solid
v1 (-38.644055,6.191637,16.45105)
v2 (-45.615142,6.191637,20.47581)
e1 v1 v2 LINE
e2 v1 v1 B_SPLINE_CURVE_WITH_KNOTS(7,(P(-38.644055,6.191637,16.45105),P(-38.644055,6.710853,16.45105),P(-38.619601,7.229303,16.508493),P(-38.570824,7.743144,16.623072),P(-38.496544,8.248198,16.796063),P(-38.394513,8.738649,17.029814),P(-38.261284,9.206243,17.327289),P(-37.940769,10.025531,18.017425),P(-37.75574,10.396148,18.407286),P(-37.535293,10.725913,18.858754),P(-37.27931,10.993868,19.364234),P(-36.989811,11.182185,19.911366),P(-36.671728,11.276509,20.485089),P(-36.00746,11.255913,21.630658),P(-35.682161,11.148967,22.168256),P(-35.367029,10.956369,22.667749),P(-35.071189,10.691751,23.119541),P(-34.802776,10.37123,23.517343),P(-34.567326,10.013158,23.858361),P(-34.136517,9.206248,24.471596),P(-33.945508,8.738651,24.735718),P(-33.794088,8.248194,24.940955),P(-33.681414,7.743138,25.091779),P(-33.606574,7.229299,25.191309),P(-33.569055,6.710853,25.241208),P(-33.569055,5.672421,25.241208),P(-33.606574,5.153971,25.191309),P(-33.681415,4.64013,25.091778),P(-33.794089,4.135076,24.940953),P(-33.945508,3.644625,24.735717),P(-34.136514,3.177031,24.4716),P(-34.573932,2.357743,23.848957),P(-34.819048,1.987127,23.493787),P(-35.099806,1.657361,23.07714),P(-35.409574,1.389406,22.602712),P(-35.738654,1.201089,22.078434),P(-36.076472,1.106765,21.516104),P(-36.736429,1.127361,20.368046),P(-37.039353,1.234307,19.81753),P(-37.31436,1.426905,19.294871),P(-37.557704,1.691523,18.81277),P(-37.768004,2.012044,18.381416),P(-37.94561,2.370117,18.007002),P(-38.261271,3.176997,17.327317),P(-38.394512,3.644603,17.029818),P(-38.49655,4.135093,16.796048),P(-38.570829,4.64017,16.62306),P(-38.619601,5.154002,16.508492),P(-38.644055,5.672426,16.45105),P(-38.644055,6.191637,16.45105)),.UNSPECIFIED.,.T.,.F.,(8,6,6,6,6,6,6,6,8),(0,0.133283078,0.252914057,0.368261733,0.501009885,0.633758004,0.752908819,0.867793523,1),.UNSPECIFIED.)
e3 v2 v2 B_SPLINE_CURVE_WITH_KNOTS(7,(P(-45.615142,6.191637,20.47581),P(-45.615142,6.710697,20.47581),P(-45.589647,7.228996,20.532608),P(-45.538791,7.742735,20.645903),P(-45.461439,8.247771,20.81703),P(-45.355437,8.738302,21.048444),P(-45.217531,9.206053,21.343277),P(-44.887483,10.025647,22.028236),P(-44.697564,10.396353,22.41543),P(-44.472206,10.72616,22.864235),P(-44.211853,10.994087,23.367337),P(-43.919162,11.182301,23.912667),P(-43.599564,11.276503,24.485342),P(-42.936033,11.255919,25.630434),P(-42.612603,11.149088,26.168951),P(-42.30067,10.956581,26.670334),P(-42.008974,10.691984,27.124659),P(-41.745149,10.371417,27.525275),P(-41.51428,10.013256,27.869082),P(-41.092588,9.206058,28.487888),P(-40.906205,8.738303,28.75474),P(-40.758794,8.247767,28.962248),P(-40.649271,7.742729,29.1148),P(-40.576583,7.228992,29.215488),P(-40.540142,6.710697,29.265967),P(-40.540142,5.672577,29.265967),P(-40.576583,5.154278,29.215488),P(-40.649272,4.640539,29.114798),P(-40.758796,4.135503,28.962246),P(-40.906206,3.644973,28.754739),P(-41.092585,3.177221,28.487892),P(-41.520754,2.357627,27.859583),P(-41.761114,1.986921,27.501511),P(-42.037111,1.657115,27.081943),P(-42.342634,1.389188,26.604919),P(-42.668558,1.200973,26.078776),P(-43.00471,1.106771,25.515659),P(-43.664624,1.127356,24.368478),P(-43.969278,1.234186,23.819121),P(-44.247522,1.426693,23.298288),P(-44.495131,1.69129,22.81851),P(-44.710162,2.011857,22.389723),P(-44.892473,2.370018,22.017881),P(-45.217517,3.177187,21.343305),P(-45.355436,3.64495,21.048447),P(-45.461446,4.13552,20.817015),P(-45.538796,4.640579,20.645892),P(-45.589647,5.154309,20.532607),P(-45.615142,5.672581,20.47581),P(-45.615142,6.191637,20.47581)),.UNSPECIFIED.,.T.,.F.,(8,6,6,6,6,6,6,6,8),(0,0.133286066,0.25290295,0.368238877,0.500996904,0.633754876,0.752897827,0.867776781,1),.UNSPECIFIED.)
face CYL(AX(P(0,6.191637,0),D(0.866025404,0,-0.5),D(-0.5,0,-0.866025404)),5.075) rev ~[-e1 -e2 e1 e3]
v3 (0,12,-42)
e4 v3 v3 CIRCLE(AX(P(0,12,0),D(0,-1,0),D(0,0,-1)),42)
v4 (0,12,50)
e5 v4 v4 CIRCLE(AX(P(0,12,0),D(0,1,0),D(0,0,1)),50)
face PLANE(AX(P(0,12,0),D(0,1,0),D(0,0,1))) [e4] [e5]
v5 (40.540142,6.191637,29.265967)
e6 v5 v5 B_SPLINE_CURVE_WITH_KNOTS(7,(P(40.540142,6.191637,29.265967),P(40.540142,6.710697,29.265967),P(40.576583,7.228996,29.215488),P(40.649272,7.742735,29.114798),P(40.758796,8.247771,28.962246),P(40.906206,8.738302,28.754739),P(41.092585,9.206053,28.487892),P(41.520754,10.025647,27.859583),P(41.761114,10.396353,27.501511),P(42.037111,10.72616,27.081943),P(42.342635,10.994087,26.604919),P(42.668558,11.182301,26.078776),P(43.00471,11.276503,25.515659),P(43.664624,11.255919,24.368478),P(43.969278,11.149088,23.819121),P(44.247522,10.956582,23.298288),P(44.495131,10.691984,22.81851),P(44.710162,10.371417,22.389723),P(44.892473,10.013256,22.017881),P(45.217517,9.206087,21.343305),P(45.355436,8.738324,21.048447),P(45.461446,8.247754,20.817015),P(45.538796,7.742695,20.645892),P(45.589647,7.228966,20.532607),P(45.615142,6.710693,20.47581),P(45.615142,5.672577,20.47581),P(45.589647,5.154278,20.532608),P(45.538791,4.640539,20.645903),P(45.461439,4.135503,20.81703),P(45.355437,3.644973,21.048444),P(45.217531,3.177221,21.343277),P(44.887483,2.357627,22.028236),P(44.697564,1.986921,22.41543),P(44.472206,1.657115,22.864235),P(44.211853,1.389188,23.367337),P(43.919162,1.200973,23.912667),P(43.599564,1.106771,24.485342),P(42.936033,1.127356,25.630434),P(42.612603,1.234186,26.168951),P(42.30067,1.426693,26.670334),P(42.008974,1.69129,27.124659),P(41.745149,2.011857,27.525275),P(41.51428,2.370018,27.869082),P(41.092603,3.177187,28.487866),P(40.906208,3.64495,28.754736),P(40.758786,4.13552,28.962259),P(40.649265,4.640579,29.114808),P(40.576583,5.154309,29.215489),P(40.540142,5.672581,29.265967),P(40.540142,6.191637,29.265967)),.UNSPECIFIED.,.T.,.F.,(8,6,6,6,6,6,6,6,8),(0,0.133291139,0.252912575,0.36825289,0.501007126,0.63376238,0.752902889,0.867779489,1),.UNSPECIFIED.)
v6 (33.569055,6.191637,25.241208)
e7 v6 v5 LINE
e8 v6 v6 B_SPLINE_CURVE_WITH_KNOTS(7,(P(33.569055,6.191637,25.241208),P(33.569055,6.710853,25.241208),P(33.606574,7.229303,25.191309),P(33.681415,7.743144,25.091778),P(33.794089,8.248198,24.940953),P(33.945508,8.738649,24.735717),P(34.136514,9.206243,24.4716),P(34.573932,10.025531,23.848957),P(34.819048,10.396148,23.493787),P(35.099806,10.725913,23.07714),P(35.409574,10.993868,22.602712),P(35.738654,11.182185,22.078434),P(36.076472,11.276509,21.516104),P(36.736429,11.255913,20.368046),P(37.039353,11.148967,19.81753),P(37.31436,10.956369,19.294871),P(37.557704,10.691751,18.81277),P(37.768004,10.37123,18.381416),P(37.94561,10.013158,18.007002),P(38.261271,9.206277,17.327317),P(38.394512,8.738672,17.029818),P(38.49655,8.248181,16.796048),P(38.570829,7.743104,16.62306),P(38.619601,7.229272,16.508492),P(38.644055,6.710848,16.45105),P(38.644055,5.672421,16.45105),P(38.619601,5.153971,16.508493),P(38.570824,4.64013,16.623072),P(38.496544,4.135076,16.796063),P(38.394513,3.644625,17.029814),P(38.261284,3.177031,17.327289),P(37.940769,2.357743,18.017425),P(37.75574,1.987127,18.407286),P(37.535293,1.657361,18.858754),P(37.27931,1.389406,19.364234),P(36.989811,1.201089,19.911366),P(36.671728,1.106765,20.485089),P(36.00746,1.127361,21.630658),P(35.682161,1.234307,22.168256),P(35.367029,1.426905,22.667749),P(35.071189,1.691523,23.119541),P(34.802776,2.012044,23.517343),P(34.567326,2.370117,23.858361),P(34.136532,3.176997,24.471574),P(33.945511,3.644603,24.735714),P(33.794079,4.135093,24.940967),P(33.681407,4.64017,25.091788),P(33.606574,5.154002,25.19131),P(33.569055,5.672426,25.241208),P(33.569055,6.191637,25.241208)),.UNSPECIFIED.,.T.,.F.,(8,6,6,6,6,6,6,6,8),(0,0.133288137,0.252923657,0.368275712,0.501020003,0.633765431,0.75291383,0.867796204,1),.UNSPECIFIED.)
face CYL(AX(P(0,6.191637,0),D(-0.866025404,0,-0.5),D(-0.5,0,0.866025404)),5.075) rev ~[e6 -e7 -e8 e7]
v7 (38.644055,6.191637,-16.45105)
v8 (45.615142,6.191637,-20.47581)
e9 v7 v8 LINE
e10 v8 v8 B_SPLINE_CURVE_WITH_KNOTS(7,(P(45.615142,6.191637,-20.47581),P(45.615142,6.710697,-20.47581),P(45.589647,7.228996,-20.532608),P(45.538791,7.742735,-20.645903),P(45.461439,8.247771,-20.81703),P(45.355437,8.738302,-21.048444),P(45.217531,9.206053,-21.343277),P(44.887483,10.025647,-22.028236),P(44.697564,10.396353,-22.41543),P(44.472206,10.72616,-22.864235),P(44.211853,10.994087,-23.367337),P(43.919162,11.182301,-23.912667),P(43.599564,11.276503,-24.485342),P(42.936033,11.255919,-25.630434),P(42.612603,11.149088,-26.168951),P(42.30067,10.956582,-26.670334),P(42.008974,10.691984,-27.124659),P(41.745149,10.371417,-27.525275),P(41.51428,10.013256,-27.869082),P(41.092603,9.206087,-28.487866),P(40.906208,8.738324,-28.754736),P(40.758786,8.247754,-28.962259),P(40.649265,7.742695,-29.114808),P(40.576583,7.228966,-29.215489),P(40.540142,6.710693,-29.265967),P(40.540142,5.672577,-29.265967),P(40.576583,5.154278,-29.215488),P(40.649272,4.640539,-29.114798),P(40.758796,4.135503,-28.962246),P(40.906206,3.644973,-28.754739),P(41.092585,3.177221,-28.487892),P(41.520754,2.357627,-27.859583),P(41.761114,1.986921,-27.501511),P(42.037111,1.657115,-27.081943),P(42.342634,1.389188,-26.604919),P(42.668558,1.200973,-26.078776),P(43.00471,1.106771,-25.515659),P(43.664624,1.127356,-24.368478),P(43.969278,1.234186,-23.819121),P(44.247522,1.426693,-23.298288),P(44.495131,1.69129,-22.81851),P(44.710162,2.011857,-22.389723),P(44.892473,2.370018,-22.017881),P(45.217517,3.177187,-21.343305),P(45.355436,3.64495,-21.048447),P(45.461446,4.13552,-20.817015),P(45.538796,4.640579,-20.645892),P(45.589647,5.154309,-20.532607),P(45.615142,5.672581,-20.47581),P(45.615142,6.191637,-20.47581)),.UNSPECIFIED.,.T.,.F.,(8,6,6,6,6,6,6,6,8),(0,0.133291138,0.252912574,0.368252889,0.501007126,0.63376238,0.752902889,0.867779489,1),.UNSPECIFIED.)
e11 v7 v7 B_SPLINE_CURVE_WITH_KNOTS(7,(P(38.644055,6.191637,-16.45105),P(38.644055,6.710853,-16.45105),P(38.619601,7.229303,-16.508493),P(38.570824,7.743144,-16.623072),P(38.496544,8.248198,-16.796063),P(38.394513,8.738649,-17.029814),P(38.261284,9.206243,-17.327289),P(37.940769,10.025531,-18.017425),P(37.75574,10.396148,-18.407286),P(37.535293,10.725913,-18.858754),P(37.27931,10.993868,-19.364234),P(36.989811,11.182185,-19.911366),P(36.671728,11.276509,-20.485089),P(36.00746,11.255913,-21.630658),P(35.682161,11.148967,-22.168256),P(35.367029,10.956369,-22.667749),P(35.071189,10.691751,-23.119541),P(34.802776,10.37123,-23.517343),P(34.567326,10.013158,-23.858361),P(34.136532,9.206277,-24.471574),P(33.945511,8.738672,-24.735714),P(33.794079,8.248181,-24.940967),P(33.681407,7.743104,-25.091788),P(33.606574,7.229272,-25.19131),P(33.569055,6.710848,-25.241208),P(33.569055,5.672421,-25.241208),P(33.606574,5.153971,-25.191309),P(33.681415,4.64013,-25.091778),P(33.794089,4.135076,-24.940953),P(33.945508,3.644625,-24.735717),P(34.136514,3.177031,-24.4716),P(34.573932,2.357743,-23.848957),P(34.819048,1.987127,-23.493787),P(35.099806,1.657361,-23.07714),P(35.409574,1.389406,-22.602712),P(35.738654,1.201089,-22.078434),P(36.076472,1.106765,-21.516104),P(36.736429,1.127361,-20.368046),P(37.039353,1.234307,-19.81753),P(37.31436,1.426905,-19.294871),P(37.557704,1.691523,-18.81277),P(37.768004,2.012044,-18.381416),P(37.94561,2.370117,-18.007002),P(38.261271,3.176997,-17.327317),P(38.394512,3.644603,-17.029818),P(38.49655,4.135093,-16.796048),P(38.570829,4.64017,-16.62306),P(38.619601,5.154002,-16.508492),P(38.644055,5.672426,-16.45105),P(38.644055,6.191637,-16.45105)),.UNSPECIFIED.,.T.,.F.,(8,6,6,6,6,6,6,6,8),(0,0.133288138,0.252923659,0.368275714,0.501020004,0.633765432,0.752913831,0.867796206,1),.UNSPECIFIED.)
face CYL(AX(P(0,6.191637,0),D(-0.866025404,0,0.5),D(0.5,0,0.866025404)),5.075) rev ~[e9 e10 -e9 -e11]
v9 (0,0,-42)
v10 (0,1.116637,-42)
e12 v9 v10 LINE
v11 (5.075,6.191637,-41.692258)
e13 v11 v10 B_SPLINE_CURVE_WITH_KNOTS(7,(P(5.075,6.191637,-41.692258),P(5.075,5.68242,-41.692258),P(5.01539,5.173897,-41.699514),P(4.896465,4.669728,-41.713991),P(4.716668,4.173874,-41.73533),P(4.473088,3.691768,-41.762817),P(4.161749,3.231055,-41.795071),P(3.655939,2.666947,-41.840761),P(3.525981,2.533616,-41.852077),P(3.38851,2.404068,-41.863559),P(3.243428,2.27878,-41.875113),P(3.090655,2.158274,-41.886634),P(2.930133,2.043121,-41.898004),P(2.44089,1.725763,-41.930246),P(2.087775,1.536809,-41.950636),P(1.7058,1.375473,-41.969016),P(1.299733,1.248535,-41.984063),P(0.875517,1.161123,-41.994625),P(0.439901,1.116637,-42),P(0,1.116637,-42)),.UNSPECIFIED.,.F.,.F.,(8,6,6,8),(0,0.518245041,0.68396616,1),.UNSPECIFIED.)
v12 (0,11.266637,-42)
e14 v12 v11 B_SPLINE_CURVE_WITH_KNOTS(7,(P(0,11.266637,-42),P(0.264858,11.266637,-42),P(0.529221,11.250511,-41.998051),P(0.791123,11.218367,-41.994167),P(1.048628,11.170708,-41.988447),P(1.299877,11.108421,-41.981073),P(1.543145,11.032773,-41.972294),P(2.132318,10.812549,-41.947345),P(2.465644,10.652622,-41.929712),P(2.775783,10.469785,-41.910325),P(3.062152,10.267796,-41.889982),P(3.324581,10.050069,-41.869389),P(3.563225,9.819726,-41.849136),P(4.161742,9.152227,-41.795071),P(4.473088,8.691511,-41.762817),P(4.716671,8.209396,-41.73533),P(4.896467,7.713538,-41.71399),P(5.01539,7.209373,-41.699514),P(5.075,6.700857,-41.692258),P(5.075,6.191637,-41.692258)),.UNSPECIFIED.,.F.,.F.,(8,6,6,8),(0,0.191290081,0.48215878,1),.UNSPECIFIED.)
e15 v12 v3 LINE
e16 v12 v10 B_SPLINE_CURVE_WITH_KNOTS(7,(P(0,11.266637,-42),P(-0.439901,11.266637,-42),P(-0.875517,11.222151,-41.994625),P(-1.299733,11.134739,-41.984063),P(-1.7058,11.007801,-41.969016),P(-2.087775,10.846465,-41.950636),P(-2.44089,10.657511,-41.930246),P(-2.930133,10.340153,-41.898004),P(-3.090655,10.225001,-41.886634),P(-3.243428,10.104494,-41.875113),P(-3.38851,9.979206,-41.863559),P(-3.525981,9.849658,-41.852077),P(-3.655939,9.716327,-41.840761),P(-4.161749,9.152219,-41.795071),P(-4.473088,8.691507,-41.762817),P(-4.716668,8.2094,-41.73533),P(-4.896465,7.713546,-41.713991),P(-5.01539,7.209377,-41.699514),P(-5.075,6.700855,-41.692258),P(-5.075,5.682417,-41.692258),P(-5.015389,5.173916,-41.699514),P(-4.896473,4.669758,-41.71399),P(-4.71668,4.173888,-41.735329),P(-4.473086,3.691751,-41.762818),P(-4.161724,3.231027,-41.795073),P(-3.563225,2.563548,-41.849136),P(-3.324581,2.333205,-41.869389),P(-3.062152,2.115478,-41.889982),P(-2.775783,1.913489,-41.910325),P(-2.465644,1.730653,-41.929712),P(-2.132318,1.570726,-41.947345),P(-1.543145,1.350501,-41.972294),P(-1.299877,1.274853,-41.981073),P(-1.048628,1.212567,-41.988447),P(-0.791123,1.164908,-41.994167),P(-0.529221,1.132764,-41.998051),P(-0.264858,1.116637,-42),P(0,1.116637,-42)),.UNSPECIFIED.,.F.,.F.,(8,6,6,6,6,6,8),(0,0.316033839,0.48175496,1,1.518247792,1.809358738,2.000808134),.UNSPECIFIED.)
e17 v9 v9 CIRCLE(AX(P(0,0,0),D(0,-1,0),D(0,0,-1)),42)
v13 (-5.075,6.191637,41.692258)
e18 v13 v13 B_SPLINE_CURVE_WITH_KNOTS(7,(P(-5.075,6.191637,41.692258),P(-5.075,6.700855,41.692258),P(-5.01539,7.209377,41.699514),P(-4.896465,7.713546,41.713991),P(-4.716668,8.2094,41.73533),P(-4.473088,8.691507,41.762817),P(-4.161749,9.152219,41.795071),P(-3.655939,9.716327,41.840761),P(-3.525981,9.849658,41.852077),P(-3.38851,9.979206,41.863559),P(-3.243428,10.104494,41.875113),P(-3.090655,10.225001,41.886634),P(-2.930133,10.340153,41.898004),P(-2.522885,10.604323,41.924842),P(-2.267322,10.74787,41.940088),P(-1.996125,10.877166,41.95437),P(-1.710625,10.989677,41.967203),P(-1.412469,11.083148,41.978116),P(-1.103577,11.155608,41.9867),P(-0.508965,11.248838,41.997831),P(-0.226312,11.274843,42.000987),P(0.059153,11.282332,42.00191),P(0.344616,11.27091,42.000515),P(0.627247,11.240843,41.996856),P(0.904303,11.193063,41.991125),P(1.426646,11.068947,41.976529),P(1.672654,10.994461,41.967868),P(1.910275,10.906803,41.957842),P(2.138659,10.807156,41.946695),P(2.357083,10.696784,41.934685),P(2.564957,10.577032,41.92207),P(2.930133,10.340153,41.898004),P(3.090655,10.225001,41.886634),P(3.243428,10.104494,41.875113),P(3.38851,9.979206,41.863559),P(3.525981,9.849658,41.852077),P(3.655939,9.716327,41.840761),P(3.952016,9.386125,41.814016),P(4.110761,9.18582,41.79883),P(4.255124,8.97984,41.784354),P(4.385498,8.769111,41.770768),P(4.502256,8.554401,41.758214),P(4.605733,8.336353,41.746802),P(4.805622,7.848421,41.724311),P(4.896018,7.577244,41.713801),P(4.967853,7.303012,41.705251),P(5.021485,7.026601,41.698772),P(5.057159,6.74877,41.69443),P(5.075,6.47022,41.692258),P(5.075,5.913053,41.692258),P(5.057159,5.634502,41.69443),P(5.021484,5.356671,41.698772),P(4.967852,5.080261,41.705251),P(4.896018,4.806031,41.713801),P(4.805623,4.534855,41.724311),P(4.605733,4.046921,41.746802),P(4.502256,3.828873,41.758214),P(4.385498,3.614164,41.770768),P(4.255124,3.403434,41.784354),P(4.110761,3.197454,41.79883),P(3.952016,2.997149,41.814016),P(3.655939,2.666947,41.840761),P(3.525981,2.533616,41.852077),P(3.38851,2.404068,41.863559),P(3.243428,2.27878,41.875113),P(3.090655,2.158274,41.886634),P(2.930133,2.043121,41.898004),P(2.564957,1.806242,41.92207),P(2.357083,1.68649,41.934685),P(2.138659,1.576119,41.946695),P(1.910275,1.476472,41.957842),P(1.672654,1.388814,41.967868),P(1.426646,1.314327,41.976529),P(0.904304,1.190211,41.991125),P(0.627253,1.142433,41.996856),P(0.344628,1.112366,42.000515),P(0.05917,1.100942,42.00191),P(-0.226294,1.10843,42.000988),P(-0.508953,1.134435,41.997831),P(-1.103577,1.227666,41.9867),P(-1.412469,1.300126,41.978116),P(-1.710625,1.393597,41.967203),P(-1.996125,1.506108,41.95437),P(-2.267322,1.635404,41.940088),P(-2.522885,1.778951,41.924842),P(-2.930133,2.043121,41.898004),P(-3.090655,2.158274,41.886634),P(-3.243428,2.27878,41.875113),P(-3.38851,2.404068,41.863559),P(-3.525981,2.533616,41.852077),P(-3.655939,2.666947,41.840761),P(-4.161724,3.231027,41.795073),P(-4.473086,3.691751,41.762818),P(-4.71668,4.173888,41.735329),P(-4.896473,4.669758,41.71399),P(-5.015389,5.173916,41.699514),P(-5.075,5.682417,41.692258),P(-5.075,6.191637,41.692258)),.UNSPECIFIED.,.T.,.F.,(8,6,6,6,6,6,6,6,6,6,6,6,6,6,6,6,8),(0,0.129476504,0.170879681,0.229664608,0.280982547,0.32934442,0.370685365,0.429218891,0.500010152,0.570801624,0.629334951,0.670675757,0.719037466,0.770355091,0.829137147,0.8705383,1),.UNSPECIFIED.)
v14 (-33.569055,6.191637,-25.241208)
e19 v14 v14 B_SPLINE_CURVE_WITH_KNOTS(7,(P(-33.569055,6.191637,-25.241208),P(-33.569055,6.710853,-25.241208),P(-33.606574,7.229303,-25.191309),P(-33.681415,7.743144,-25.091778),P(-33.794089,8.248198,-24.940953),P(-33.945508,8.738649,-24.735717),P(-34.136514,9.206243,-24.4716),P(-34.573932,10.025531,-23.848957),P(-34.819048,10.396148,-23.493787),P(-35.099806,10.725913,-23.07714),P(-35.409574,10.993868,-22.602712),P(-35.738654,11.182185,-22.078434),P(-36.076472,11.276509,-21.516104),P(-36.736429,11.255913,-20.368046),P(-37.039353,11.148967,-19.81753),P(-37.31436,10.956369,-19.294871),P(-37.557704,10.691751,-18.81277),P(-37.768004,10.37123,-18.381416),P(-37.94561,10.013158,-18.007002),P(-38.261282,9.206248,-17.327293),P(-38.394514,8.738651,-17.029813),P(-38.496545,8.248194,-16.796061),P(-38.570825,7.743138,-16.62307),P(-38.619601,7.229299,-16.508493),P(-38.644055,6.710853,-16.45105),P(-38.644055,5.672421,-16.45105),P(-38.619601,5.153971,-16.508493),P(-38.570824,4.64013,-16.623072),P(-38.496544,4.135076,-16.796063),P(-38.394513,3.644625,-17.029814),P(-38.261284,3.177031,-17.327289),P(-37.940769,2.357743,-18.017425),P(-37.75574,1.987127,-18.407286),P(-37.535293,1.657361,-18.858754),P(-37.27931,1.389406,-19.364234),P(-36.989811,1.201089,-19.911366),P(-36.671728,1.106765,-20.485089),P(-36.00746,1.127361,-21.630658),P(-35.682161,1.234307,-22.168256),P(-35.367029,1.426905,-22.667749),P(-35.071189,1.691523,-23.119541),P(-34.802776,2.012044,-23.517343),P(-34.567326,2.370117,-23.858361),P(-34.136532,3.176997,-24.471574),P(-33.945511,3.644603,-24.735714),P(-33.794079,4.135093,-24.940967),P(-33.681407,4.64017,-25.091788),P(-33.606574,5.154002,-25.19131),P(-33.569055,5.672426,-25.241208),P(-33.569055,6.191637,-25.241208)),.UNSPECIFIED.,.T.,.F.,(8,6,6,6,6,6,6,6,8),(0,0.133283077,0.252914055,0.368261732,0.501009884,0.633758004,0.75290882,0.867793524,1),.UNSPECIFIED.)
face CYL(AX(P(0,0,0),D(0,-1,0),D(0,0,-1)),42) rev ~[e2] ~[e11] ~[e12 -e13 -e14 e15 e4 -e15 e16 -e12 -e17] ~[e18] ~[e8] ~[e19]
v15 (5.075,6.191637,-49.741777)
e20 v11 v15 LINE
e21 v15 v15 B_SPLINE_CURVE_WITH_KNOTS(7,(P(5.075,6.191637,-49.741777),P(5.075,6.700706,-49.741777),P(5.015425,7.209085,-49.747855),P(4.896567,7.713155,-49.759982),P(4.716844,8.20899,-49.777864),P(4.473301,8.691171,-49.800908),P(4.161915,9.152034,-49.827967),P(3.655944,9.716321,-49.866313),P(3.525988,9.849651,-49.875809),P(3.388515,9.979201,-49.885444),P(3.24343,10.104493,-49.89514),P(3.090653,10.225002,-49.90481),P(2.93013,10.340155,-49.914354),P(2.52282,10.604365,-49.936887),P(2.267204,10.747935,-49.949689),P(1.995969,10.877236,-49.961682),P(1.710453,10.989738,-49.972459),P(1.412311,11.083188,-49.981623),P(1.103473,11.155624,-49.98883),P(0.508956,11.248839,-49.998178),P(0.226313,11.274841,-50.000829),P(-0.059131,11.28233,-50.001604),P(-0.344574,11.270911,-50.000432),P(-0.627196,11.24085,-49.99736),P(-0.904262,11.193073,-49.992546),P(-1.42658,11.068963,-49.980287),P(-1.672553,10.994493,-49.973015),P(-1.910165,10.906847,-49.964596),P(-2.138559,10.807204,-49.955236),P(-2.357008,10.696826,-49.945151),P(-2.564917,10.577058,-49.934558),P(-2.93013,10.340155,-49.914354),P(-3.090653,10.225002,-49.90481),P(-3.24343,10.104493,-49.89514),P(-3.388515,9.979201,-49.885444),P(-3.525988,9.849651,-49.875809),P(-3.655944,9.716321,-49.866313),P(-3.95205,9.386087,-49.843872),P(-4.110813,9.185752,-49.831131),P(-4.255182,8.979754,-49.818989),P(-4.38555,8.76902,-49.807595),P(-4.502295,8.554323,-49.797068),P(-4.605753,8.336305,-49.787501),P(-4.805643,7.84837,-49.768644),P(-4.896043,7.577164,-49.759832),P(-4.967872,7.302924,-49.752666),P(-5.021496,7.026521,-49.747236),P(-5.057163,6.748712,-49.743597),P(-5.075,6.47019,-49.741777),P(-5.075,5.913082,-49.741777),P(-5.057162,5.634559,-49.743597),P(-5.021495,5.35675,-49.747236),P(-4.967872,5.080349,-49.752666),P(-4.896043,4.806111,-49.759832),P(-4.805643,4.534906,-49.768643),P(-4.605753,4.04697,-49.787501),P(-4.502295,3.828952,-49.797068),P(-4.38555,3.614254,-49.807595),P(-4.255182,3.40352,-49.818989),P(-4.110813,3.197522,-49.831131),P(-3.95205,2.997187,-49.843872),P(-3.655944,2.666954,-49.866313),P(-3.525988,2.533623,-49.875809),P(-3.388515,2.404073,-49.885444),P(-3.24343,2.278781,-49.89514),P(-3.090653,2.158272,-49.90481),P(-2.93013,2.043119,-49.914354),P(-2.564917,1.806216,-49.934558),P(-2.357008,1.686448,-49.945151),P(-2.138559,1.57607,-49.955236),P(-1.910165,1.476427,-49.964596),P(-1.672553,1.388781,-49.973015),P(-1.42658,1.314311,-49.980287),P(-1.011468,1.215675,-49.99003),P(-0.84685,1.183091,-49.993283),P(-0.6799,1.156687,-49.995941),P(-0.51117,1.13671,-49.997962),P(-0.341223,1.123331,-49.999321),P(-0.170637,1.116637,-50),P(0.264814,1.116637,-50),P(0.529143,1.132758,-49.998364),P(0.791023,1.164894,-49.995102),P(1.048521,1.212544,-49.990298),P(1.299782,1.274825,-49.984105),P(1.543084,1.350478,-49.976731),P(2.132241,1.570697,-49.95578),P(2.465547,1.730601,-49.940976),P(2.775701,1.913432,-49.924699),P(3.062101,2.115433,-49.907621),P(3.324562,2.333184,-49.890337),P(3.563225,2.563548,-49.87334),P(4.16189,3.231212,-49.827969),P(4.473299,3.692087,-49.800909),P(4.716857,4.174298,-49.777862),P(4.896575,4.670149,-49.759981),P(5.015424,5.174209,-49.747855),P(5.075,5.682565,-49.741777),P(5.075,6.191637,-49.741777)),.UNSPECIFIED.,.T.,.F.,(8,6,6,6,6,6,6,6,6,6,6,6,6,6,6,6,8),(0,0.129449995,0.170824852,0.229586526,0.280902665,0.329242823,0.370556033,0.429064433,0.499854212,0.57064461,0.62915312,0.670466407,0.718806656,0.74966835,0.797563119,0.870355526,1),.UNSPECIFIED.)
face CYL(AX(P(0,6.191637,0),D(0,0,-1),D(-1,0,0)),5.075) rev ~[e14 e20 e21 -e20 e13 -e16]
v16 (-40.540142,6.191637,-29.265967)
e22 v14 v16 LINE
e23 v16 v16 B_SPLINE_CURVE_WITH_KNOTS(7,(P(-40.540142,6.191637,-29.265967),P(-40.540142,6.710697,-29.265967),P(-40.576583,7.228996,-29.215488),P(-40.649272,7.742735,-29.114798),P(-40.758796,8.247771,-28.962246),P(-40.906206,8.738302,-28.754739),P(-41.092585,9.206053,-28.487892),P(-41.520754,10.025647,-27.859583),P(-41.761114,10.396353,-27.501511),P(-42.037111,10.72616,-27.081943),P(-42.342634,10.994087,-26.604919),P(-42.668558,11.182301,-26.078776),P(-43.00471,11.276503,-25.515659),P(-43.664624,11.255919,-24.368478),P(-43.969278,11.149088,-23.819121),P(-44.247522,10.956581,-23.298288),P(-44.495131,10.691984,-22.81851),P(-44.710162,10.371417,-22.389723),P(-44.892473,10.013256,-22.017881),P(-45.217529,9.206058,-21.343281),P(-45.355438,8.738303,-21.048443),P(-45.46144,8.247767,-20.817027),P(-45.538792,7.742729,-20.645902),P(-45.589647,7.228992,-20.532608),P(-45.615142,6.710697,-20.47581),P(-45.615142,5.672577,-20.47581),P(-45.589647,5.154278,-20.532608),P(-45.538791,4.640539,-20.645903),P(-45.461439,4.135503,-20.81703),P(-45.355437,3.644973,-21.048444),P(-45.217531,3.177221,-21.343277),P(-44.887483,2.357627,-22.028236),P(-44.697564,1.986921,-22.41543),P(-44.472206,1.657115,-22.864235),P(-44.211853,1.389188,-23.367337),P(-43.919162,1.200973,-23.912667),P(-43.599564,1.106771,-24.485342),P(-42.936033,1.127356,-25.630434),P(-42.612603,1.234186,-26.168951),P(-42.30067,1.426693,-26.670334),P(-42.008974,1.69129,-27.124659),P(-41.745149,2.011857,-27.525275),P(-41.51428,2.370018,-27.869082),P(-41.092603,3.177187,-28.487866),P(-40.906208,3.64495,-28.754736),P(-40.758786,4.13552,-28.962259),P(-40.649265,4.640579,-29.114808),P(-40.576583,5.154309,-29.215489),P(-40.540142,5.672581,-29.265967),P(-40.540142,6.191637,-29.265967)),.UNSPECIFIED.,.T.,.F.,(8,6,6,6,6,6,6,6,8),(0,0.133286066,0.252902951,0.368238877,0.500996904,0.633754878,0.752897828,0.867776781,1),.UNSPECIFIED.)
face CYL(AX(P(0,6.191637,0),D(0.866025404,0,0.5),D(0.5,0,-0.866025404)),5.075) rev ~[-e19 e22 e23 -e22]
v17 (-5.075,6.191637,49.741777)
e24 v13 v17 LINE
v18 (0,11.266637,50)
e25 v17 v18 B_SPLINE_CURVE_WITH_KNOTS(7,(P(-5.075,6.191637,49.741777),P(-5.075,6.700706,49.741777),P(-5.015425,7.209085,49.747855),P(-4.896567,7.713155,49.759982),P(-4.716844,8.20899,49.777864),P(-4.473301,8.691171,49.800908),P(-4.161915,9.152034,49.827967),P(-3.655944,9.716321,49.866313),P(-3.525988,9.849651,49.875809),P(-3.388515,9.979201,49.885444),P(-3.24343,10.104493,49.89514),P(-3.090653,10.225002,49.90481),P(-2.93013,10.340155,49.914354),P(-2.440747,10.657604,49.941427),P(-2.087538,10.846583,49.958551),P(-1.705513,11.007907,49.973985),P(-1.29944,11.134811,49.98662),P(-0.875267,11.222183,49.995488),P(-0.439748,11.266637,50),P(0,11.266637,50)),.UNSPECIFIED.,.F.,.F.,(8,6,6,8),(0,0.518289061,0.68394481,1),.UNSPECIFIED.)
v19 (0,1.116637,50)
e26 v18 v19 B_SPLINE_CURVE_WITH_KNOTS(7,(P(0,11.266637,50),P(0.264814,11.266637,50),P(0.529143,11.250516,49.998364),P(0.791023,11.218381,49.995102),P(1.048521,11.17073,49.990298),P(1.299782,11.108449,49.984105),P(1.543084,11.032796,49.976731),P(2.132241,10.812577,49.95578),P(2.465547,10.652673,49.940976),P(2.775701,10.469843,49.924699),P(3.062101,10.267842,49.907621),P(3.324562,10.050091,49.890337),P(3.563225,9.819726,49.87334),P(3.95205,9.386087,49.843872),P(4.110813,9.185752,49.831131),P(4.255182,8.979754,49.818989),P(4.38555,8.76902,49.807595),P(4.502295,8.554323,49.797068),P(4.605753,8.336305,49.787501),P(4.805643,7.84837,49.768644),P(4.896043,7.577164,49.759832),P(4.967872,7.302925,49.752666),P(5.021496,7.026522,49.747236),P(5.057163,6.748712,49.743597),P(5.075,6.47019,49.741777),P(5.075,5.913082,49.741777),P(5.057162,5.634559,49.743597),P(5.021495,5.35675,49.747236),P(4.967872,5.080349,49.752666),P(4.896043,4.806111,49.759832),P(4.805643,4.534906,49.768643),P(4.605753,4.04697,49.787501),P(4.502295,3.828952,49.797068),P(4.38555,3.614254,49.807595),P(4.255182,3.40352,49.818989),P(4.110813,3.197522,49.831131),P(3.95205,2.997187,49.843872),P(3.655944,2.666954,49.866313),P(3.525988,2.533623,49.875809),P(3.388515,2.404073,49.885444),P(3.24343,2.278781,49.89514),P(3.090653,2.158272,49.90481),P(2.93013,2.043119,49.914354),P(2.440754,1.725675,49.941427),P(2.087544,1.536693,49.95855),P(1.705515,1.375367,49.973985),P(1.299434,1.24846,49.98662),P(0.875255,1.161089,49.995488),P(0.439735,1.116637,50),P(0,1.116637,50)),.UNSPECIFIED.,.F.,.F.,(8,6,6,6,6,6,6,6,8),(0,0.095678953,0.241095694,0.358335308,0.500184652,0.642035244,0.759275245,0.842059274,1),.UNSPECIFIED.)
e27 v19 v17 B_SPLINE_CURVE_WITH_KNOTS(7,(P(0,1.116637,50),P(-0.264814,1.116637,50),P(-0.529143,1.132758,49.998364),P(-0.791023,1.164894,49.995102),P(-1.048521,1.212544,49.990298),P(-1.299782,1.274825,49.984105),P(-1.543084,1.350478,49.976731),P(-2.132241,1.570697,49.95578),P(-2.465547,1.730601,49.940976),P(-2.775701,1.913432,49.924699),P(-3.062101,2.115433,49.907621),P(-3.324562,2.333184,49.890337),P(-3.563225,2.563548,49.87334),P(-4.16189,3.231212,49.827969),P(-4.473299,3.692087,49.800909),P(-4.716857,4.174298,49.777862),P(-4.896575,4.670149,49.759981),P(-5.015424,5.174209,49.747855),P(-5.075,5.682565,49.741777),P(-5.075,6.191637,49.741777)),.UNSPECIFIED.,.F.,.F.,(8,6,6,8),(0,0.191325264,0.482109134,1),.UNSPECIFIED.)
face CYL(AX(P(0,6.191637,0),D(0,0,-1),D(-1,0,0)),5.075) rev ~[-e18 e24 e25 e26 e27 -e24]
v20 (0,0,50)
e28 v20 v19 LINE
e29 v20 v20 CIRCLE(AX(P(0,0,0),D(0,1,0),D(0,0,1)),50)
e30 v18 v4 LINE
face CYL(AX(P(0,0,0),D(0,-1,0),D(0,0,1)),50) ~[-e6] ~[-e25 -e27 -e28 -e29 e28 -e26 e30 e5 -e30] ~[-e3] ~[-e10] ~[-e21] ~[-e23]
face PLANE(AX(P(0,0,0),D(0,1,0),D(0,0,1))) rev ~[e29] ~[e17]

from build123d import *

# Parameters (mm, degrees)
SKETCH_1_R               = 50
EXTRUDE_1_DEPTH          = 12
SKETCH_4_R               = 5.075
CUT_EXTRUDE_5_DEPTH      = 72.721684308
PATTERN_CIRCULAR_3_COUNT = 6
SKETCH_27_R              = 42
CUT_EXTRUDE_7_DEPTH      = 72.721684464


with BuildPart() as part:
    # 草图1 → 凸台-拉伸1 (new body)
    with BuildSketch(Plane(origin=(0, 0, 0), x_dir=(1, 0, 0), z_dir=(0, 1, 0))):
        with Locations(Location((0, 0, 0), (0, 0, 270))):
            Circle(SKETCH_1_R)
    extrude(amount=EXTRUDE_1_DEPTH)

    # 草图4 → 切除-拉伸5 (cut, through all)
    with BuildSketch(Plane.XY):
        with Locations((0, 6.19163712)):
            Circle(SKETCH_4_R)
    cut_extrude_5 = extrude(amount=-CUT_EXTRUDE_5_DEPTH, mode=Mode.SUBTRACT)

    # 阵列(圆周)3: 切除-拉伸5 ×6 about axis
    pattern_circular_3_axis = Axis((0, 0, 0), (0, 1, 0))
    for i in range(1, PATTERN_CIRCULAR_3_COUNT):
        add(cut_extrude_5.rotate(pattern_circular_3_axis, i * 360 / PATTERN_CIRCULAR_3_COUNT), mode=Mode.SUBTRACT)

    # 草图27 → 切除-拉伸7 (cut, through all)
    with BuildSketch(Plane.XZ):
        with Locations(Location((0, 0, 0), (0, 0, 270))):
            Circle(SKETCH_27_R)
    extrude(amount=-CUT_EXTRUDE_7_DEPTH, mode=Mode.SUBTRACT)


solid = part.part
